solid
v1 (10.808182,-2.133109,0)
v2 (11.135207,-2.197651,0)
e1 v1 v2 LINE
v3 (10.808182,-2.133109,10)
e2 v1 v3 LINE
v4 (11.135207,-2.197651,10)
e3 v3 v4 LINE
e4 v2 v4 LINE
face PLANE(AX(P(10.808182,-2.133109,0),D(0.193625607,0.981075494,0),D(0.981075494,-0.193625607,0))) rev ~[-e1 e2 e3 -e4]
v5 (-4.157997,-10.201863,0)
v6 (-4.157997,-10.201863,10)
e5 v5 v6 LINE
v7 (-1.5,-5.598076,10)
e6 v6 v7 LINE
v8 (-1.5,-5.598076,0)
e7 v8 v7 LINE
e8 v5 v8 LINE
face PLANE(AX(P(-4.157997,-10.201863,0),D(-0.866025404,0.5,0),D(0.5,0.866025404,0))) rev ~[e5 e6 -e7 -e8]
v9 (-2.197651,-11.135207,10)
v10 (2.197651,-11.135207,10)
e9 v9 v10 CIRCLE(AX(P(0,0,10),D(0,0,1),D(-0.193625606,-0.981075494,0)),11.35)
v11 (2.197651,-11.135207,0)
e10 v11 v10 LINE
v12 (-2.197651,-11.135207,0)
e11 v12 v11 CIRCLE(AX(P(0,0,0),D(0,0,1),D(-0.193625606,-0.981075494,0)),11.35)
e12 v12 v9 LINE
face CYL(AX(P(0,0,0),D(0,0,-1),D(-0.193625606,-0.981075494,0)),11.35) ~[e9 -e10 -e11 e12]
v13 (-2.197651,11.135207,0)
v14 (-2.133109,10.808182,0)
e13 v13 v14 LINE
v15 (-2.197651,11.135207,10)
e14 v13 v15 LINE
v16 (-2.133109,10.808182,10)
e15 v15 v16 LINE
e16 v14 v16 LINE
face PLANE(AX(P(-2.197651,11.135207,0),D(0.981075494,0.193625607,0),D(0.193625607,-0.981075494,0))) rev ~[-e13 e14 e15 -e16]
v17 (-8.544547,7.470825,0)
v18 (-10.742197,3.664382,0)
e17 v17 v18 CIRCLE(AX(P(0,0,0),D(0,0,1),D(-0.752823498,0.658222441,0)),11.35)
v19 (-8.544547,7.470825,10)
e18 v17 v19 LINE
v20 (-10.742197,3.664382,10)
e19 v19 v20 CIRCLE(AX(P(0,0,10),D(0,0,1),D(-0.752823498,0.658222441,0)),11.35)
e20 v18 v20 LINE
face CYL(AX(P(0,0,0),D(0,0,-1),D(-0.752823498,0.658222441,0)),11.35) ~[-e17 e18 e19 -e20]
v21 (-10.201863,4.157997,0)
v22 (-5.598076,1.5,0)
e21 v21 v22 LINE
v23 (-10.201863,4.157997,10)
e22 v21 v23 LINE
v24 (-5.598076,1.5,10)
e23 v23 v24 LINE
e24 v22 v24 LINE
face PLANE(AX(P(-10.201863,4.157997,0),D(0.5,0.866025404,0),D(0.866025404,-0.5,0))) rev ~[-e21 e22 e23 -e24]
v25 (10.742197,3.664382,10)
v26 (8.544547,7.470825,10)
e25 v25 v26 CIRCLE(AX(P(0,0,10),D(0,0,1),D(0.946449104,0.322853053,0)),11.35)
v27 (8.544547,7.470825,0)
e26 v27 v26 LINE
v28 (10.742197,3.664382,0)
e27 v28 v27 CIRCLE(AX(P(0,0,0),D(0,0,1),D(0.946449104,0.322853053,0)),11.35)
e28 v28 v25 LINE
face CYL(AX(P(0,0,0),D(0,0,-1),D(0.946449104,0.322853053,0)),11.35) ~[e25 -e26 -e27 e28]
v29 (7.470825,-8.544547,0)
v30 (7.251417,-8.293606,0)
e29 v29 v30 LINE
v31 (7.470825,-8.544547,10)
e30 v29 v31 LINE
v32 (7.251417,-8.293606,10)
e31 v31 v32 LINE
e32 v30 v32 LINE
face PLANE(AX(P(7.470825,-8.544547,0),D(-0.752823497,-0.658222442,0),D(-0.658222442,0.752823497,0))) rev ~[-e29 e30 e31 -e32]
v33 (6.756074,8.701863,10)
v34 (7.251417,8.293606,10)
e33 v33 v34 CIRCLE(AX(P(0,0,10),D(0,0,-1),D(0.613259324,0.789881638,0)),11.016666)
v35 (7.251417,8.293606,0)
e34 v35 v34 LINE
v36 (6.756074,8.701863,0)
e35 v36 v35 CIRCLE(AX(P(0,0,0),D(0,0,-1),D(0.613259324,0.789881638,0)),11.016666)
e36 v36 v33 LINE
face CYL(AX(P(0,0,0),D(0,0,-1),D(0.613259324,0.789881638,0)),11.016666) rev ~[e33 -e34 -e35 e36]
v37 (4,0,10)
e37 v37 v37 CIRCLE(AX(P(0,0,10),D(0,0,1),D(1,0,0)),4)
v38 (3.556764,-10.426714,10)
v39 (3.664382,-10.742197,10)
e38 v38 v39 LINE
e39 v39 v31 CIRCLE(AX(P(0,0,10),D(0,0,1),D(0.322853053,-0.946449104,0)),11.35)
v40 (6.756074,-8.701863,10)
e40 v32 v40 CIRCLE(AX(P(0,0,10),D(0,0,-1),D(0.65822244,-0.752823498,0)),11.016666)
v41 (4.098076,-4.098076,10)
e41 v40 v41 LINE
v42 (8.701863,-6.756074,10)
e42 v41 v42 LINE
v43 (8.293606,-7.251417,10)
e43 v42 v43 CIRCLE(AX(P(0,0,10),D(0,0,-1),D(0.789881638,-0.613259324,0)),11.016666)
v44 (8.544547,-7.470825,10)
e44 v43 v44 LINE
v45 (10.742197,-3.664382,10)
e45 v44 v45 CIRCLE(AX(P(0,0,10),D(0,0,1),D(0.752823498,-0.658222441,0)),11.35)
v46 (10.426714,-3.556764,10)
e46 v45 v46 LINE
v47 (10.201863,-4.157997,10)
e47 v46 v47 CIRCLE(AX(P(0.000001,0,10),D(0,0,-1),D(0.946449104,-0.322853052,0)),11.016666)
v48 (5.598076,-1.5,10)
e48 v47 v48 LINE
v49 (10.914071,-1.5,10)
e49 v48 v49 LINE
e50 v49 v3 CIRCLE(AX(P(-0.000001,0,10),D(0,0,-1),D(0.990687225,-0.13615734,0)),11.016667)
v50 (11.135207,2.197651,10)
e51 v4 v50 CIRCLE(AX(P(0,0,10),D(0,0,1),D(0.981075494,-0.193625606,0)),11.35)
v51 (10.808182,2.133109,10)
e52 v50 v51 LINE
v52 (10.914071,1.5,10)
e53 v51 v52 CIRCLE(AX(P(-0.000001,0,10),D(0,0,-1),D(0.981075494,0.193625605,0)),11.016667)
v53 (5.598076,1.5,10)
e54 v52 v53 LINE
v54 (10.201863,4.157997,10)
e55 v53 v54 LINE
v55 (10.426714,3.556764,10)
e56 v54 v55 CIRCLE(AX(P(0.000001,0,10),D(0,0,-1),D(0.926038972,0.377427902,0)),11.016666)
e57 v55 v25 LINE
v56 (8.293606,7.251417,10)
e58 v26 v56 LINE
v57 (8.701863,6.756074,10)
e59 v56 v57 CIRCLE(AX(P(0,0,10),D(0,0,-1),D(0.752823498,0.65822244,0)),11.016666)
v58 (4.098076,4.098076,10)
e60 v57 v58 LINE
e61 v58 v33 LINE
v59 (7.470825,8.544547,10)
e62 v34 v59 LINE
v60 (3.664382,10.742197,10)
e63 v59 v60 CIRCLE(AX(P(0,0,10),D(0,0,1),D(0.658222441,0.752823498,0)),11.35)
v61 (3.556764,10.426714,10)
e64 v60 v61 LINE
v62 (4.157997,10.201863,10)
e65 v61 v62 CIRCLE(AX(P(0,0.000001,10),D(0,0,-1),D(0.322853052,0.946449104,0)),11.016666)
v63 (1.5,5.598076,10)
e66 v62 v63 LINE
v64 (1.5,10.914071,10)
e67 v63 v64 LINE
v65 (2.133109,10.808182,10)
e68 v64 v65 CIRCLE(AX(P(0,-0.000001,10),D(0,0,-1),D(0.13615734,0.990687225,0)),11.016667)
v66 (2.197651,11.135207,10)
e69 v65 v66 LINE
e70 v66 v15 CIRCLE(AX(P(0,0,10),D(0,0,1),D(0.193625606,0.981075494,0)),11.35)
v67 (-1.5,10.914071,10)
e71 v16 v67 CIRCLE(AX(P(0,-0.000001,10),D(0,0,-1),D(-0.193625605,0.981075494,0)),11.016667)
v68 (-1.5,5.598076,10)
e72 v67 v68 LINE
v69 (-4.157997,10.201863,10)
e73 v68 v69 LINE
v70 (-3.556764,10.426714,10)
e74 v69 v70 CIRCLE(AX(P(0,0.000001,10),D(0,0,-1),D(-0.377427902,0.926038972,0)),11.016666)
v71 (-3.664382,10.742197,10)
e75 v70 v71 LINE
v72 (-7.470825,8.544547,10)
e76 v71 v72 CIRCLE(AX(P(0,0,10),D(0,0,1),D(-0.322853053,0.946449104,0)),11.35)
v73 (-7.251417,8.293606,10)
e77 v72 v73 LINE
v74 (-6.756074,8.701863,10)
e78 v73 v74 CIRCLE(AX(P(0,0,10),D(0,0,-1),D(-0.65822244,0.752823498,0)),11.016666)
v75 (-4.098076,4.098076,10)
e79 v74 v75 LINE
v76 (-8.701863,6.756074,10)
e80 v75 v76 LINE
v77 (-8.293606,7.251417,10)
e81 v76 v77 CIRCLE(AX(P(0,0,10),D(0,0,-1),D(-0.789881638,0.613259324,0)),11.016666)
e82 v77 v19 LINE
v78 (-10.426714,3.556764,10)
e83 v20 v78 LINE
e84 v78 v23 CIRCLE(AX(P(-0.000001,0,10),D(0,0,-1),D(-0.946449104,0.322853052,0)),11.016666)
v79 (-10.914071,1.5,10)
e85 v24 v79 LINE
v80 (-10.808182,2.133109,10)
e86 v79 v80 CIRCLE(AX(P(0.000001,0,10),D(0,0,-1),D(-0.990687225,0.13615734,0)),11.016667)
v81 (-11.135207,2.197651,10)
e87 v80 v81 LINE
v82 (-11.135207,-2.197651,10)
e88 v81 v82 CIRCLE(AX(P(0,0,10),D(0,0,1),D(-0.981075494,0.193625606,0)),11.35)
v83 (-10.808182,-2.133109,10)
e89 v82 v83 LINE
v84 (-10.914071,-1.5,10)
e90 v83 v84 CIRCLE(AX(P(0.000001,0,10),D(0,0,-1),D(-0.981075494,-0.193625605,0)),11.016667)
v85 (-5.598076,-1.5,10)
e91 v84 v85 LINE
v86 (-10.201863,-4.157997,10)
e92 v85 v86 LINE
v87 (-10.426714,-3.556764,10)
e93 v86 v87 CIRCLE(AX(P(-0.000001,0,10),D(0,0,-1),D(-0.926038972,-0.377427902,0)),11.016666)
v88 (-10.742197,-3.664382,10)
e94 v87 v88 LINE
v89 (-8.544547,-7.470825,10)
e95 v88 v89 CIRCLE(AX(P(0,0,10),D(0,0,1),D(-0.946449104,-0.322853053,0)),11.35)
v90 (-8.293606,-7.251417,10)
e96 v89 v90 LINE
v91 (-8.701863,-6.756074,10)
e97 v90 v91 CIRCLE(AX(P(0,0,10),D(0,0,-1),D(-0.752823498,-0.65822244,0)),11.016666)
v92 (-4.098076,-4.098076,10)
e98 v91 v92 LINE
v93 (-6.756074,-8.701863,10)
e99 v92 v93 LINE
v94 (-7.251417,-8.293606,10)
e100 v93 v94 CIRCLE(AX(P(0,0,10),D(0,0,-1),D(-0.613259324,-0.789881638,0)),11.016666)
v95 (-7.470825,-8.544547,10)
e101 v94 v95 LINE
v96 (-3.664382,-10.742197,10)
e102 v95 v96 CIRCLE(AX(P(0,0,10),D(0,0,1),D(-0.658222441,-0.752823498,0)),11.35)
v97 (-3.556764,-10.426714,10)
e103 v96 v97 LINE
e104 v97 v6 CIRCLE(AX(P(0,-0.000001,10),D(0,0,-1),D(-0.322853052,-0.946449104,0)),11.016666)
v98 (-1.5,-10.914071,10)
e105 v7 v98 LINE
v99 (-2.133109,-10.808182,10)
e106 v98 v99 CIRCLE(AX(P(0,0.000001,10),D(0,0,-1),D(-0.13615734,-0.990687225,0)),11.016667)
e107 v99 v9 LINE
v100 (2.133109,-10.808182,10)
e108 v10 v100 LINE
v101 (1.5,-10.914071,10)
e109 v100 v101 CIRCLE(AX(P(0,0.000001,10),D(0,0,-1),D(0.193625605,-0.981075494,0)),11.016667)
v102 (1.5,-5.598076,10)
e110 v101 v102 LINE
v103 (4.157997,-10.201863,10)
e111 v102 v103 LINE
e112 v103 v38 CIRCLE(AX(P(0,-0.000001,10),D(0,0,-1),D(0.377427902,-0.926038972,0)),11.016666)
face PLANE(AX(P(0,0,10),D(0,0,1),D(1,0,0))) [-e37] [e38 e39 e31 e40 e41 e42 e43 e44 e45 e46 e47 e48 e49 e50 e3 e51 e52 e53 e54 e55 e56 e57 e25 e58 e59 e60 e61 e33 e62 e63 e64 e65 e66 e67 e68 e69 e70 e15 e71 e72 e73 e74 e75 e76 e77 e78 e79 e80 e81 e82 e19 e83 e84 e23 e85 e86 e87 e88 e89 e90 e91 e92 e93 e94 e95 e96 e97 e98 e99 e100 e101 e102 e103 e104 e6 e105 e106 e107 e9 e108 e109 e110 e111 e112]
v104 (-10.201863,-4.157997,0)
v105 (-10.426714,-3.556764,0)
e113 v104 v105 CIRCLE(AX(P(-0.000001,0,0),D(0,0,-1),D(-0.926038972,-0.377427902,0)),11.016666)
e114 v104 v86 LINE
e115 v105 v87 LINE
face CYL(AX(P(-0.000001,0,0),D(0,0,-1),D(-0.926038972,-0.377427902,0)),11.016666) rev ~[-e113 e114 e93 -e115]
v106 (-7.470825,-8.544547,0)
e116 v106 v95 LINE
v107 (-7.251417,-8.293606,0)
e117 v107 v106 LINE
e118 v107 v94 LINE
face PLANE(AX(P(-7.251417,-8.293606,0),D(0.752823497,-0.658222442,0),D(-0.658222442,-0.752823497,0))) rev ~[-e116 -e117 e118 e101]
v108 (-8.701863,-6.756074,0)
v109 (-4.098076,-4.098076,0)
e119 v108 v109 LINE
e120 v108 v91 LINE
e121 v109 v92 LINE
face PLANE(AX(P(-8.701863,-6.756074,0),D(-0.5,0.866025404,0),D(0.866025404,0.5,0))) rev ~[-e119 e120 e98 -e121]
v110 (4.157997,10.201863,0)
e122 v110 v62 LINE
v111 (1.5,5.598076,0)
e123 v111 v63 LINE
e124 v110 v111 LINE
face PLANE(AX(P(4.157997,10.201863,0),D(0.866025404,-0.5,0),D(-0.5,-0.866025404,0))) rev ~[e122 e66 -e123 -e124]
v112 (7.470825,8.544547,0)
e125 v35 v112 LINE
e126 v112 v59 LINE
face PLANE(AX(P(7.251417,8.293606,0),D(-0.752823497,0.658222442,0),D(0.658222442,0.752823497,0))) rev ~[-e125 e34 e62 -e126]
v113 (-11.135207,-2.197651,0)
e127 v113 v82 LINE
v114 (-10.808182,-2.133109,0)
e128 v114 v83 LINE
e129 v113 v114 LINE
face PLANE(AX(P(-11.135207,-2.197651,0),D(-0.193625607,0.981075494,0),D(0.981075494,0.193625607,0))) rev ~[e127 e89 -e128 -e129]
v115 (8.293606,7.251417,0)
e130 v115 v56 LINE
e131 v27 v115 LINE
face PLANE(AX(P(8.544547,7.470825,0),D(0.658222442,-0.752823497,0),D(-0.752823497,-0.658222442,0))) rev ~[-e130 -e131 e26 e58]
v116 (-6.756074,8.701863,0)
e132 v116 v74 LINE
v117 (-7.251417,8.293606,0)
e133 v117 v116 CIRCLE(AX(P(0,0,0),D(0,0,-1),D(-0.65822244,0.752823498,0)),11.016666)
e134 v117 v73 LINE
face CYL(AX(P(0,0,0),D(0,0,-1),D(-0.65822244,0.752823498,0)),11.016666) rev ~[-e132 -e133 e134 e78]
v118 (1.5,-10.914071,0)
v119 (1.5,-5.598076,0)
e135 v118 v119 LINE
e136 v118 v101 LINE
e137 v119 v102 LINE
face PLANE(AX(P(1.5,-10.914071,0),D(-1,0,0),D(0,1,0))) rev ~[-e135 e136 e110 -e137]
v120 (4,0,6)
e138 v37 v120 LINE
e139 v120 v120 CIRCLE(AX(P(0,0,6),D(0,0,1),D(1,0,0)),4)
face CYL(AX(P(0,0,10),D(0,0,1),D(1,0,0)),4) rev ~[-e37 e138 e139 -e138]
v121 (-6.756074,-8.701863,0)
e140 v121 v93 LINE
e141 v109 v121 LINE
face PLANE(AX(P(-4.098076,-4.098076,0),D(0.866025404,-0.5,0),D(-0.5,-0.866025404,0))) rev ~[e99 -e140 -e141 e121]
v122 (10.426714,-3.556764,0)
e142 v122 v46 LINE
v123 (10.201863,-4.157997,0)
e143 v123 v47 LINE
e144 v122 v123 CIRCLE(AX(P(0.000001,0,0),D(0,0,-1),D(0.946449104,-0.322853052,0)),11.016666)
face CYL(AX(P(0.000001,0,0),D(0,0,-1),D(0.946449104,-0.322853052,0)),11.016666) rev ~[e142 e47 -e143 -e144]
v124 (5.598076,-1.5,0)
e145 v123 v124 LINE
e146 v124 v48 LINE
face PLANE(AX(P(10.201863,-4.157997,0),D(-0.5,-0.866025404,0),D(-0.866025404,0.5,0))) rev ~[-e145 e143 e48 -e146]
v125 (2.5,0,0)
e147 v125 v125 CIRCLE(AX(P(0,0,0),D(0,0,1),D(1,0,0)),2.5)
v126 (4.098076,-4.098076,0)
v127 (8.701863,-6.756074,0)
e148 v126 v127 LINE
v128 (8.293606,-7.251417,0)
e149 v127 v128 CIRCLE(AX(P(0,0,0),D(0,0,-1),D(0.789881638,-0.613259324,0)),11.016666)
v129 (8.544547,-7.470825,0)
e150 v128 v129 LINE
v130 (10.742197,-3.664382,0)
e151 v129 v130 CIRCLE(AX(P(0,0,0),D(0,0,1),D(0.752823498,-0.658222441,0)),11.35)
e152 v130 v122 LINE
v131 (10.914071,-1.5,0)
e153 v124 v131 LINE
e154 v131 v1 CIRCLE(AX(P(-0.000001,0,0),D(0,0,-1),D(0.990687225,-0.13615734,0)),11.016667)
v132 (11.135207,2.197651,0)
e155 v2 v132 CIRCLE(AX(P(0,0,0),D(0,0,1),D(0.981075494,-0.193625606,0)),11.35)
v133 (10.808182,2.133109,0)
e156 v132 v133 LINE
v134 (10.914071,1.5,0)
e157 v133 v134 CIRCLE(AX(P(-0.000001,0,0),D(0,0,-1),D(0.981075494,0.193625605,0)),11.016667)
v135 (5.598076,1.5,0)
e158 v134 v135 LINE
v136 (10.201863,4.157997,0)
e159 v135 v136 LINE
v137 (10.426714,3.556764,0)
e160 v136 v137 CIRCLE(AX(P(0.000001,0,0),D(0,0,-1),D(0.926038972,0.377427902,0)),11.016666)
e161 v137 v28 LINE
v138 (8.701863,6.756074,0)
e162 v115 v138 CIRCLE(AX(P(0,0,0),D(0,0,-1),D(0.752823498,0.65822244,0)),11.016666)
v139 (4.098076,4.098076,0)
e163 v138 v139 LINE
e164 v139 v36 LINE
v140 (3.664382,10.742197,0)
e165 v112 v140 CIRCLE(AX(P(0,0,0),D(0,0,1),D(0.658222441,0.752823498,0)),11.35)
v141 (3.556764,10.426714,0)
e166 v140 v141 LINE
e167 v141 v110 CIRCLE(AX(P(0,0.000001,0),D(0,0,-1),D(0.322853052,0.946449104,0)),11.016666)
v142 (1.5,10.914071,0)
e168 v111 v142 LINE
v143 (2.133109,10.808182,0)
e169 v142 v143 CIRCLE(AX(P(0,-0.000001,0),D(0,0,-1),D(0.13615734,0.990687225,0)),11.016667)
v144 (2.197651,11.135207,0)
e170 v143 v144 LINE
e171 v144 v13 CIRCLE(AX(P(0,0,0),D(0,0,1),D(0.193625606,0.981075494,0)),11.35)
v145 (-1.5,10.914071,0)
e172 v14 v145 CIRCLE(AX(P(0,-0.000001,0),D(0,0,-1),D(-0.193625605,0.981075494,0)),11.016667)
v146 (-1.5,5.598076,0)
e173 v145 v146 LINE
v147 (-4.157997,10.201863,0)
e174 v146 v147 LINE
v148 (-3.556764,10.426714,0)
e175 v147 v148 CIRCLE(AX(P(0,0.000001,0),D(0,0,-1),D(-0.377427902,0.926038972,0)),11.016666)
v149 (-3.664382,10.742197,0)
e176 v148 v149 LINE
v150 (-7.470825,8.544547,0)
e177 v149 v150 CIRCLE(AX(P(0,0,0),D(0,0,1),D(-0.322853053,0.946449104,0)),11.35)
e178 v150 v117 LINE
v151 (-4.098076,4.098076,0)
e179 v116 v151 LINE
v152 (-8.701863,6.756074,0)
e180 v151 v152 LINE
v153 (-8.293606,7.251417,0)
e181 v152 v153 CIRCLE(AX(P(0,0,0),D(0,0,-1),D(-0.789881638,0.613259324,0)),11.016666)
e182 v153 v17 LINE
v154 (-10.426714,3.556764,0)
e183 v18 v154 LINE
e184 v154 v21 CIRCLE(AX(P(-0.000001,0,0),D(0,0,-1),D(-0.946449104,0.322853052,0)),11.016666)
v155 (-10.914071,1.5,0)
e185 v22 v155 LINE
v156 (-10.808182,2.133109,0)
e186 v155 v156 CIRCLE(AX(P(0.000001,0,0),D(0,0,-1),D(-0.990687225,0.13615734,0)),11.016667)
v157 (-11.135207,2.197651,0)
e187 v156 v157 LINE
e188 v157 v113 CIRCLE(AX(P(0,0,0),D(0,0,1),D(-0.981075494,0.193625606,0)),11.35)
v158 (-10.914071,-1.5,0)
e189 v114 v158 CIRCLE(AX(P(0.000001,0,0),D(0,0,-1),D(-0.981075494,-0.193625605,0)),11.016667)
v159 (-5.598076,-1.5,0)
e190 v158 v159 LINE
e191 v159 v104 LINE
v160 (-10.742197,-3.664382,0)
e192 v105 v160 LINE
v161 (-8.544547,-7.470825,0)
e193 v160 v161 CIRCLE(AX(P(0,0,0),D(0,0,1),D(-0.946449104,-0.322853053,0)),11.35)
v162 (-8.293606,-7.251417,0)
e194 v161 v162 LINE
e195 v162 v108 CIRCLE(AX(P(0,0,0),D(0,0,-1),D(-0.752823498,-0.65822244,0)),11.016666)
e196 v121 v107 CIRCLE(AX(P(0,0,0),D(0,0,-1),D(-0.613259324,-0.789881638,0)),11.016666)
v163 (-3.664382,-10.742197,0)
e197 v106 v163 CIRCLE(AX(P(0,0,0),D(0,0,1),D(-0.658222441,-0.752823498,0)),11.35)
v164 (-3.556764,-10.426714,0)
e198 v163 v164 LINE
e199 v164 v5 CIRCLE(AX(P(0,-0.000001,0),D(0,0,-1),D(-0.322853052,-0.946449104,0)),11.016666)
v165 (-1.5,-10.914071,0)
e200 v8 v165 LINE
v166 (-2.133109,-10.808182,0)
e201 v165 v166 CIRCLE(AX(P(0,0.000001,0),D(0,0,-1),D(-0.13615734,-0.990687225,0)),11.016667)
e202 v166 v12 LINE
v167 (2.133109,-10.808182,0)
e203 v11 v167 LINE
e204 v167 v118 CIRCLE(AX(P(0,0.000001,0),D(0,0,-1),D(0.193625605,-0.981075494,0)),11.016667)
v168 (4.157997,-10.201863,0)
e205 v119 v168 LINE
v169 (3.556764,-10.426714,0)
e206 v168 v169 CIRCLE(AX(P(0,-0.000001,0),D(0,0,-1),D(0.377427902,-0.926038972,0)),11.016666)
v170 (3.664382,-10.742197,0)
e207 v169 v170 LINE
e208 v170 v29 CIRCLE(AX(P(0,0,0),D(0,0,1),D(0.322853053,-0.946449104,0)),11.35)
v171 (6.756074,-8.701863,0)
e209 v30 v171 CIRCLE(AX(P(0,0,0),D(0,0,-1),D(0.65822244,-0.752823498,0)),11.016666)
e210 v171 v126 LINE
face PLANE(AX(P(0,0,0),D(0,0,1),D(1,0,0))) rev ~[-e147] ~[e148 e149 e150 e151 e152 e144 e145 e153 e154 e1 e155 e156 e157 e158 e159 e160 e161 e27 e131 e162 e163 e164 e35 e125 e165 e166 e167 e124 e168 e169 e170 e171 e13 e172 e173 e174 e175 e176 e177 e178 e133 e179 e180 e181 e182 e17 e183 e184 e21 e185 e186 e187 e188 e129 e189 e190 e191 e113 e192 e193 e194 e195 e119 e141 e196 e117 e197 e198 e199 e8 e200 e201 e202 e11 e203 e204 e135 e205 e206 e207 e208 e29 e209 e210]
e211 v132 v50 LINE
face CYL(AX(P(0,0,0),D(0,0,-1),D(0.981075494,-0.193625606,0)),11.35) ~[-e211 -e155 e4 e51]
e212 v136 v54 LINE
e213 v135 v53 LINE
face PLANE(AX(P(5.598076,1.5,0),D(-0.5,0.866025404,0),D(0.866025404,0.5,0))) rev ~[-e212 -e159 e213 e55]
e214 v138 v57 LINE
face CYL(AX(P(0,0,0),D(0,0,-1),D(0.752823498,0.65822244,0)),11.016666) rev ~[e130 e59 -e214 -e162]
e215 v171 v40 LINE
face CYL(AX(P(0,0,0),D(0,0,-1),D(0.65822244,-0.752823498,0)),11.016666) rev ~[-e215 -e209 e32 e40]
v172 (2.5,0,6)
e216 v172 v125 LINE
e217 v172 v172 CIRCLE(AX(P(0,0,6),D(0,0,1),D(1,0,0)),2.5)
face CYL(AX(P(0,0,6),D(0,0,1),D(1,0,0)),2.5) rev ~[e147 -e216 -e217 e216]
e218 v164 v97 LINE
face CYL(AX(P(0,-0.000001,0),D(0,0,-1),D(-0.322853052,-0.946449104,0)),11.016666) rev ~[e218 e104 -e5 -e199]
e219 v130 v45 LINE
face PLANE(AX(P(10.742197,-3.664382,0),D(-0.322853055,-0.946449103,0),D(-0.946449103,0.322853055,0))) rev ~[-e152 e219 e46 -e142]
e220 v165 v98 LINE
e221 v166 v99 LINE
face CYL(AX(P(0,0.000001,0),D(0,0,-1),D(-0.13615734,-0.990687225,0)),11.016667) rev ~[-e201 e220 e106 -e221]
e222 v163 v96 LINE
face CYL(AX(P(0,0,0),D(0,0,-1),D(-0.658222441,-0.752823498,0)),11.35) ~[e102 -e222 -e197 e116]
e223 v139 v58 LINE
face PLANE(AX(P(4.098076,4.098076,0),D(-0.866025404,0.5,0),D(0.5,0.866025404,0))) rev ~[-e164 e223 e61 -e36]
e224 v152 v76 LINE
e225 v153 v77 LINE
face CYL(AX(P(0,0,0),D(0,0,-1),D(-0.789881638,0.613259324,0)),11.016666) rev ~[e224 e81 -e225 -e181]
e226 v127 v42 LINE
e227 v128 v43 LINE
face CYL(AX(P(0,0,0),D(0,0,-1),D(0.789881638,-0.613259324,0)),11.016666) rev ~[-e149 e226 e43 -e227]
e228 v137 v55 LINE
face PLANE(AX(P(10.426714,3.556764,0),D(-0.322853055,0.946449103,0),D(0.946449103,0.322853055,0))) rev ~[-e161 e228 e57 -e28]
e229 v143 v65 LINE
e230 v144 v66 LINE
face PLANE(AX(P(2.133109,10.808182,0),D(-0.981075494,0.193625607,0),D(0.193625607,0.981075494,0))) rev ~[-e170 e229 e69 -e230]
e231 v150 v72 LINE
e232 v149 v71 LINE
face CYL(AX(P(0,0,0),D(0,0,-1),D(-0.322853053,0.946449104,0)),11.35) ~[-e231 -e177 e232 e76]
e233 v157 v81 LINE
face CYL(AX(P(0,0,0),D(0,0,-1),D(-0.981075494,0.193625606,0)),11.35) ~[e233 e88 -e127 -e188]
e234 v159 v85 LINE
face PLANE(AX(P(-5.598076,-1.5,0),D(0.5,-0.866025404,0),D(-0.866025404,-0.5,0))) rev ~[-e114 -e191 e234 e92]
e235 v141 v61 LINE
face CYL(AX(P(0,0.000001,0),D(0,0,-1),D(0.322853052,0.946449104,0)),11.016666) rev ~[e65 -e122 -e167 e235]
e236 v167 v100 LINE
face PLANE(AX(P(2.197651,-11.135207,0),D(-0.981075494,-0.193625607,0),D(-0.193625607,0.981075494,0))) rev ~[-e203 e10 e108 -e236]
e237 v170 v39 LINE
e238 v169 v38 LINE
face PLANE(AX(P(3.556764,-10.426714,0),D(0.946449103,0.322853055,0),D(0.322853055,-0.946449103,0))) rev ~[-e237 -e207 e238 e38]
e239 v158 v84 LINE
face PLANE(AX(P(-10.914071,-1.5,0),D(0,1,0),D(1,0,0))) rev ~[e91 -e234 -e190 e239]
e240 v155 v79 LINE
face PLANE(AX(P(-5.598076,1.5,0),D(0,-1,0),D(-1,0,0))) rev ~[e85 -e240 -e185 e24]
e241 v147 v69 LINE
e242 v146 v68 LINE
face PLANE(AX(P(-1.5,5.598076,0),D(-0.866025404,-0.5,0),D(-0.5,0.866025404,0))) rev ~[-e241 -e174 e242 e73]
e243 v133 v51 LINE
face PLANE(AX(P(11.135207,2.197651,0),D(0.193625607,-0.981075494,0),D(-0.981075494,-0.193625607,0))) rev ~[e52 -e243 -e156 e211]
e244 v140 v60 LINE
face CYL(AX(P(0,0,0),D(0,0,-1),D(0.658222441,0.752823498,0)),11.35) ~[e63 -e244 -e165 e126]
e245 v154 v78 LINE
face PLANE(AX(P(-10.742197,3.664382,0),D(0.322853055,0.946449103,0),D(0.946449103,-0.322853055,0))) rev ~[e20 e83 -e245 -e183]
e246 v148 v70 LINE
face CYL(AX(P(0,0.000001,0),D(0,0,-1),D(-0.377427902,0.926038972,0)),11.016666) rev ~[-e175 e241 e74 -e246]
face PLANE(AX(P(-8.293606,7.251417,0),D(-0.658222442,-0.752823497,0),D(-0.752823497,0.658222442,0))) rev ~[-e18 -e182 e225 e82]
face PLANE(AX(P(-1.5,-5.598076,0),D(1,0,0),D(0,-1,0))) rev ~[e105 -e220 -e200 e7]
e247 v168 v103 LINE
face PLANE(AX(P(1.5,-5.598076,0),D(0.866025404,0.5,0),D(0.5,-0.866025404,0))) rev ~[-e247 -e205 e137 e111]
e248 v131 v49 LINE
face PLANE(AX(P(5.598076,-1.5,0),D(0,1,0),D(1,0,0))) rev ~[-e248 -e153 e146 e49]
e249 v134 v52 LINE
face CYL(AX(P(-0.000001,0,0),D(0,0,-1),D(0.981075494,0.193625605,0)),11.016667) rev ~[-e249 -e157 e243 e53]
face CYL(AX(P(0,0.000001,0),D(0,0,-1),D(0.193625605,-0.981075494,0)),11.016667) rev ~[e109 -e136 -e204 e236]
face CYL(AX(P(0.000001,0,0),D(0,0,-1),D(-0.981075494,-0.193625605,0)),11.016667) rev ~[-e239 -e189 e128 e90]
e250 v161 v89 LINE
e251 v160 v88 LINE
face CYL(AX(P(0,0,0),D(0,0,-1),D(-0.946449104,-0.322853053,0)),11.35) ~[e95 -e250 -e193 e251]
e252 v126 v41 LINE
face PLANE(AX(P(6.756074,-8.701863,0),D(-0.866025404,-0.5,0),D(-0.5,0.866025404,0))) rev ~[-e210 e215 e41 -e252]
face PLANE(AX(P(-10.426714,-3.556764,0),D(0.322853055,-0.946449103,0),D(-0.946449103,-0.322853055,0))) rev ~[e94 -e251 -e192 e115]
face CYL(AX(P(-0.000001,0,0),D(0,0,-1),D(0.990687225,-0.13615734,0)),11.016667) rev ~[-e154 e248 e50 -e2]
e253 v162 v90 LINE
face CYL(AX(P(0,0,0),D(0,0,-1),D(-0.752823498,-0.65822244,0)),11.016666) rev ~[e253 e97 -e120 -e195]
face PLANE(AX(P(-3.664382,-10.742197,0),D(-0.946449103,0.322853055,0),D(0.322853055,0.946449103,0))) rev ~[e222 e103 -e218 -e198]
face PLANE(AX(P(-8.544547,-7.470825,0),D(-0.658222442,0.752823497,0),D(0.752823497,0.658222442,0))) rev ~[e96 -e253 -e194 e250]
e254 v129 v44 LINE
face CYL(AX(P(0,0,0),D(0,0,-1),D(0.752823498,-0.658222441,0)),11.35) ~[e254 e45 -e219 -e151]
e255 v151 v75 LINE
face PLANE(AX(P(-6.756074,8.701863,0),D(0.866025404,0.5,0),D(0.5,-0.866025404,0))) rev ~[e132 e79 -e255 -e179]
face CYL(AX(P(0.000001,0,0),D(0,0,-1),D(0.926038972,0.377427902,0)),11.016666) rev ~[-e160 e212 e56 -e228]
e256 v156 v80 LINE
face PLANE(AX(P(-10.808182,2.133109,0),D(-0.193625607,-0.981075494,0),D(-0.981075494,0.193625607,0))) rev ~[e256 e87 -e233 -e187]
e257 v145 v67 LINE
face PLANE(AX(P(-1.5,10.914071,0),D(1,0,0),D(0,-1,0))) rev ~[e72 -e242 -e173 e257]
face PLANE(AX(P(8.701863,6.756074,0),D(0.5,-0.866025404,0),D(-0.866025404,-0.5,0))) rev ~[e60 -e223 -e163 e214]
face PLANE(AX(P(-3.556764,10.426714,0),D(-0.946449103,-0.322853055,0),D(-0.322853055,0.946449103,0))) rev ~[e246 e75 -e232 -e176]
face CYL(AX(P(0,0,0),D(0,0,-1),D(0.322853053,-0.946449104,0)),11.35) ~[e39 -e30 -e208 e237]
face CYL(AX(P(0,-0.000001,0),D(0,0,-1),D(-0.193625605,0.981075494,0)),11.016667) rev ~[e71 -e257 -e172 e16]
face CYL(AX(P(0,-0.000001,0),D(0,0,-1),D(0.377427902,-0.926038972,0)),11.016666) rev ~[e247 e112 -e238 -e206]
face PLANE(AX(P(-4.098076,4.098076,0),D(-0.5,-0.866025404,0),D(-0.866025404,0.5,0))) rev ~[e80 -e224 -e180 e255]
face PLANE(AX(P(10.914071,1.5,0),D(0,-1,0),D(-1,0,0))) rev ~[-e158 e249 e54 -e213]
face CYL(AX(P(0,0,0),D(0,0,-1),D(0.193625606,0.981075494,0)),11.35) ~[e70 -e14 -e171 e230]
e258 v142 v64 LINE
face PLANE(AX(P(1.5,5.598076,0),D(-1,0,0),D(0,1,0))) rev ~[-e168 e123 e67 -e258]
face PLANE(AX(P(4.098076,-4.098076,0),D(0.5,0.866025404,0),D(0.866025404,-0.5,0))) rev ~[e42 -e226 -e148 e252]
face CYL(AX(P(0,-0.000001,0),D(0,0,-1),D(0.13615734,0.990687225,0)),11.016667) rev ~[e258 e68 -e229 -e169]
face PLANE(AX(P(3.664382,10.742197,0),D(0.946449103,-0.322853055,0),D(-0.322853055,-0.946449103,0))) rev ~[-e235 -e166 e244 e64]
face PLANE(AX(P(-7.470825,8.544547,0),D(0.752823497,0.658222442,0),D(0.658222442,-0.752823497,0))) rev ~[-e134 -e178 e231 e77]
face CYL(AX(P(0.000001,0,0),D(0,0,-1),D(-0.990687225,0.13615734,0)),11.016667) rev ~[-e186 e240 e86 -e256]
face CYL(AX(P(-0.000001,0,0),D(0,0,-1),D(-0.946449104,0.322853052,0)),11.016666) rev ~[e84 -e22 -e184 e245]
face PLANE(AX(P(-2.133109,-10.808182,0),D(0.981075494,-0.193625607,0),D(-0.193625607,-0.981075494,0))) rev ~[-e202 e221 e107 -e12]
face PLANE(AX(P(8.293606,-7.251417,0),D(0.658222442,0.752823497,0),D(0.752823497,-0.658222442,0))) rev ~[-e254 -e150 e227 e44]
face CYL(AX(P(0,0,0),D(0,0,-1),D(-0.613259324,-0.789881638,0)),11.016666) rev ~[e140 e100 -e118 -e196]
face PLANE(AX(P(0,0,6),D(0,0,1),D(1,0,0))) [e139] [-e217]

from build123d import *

# Parameters (mm, degrees)
BOSS_EXTRUDE1_DEPTH = 10
SKETCH3_R           = 4
CUT_EXTRUDE1_DEPTH  = 4
SKETCH4_R           = 2.5
CUT_EXTRUDE2_DEPTH  = 10


with BuildPart() as part:
    # Sketch2 → Boss-Extrude1 (new body)
    with BuildSketch(Plane.XY):
        with BuildLine():
            Line((2.133108761, 10.808181691), (2.19765063, 11.135206855))
            ThreePointArc((2.19765063, 11.135206855), (0, 11.35), (-2.19765063, 11.135206855))
            Line((-2.19765063, 11.135206855), (-2.133108761, 10.808181691))
            ThreePointArc((-2.133108761, 10.808181691), (-1.817325769, 10.865738424), (-1.5, 10.914070939))
            Line((-1.5, 10.914070939), (-1.5, 5.598076211))
            Line((-1.5, 5.598076211), (-4.157997364, 10.201862691))
            ThreePointArc((-4.157997364, 10.201862691), (-3.859018929, 10.318668391), (-3.556764469, 10.426714294))
            Line((-3.556764469, 10.426714294), (-3.664382154, 10.742197328))
            ThreePointArc((-3.664382154, 10.742197328), (-5.675, 9.829388333), (-7.470824702, 8.544546698))
            Line((-7.470824702, 8.544546698), (-7.251417222, 8.293605533))
            ThreePointArc((-7.251417222, 8.293605533), (-7.006719495, 8.501342622), (-6.756073575, 8.701862691))
            Line((-6.756073575, 8.701862691), (-4.098076211, 4.098076211))
            Line((-4.098076211, 4.098076211), (-8.701862691, 6.756073575))
            ThreePointArc((-8.701862691, 6.756073575), (-8.501342622, 7.006719495), (-8.293605533, 7.251417222))
            Line((-8.293605533, 7.251417222), (-8.544546698, 7.470824702))
            ThreePointArc((-8.544546698, 7.470824702), (-9.829388333, 5.675), (-10.742197328, 3.664382154))
            Line((-10.742197328, 3.664382154), (-10.426714294, 3.556764469))
            ThreePointArc((-10.426714294, 3.556764469), (-10.318668391, 3.859018929), (-10.201862691, 4.157997364))
            Line((-10.201862691, 4.157997364), (-5.598076211, 1.5))
            Line((-5.598076211, 1.5), (-10.914070939, 1.5))
            ThreePointArc((-10.914070939, 1.5), (-10.865738424, 1.817325769), (-10.808181691, 2.133108761))
            Line((-10.808181691, 2.133108761), (-11.135206855, 2.19765063))
            ThreePointArc((-11.135206855, 2.19765063), (-11.35, 0), (-11.135206855, -2.19765063))
            Line((-11.135206855, -2.19765063), (-10.808181691, -2.133108761))
            ThreePointArc((-10.808181691, -2.133108761), (-10.865738424, -1.817325769), (-10.914070939, -1.5))
            Line((-10.914070939, -1.5), (-5.598076211, -1.5))
            Line((-5.598076211, -1.5), (-10.201862691, -4.157997364))
            ThreePointArc((-10.201862691, -4.157997364), (-10.318668391, -3.859018929), (-10.426714294, -3.556764469))
            Line((-10.426714294, -3.556764469), (-10.742197328, -3.664382154))
            ThreePointArc((-10.742197328, -3.664382154), (-9.829388333, -5.675), (-8.544546698, -7.470824702))
            Line((-8.544546698, -7.470824702), (-8.293605533, -7.251417222))
            ThreePointArc((-8.293605533, -7.251417222), (-8.501342622, -7.006719495), (-8.701862691, -6.756073575))
            Line((-8.701862691, -6.756073575), (-4.098076211, -4.098076211))
            Line((-4.098076211, -4.098076211), (-6.756073575, -8.701862691))
            ThreePointArc((-6.756073575, -8.701862691), (-7.006719495, -8.501342622), (-7.251417222, -8.293605533))
            Line((-7.251417222, -8.293605533), (-7.470824702, -8.544546698))
            ThreePointArc((-7.470824702, -8.544546698), (-5.675, -9.829388333), (-3.664382154, -10.742197328))
            Line((-3.664382154, -10.742197328), (-3.556764469, -10.426714294))
            ThreePointArc((-3.556764469, -10.426714294), (-3.859018929, -10.318668391), (-4.157997364, -10.201862691))
            Line((-4.157997364, -10.201862691), (-1.5, -5.598076211))
            Line((-1.5, -5.598076211), (-1.5, -10.914070939))
            ThreePointArc((-1.5, -10.914070939), (-1.817325769, -10.865738424), (-2.133108761, -10.808181691))
            Line((-2.133108761, -10.808181691), (-2.19765063, -11.135206855))
            ThreePointArc((-2.19765063, -11.135206855), (0, -11.35), (2.19765063, -11.135206855))
            Line((2.19765063, -11.135206855), (2.133108761, -10.808181691))
            ThreePointArc((2.133108761, -10.808181691), (1.817325769, -10.865738424), (1.5, -10.914070939))
            Line((1.5, -10.914070939), (1.5, -5.598076211))
            Line((1.5, -5.598076211), (4.157997364, -10.201862691))
            ThreePointArc((4.157997364, -10.201862691), (3.859018929, -10.318668391), (3.556764469, -10.426714294))
            Line((3.556764469, -10.426714294), (3.664382154, -10.742197328))
            ThreePointArc((3.664382154, -10.742197328), (5.675, -9.829388333), (7.470824702, -8.544546698))
            Line((7.470824702, -8.544546698), (7.251417222, -8.293605533))
            ThreePointArc((7.251417222, -8.293605533), (7.006719495, -8.501342622), (6.756073575, -8.701862691))
            Line((6.756073575, -8.701862691), (4.098076211, -4.098076211))
            Line((4.098076211, -4.098076211), (8.701862691, -6.756073575))
            ThreePointArc((8.701862691, -6.756073575), (8.501342622, -7.006719495), (8.293605533, -7.251417222))
            Line((8.293605533, -7.251417222), (8.544546698, -7.470824702))
            ThreePointArc((8.544546698, -7.470824702), (9.829388333, -5.675), (10.742197328, -3.664382154))
            Line((10.742197328, -3.664382154), (10.426714294, -3.556764469))
            ThreePointArc((10.426714294, -3.556764469), (10.318668391, -3.859018929), (10.201862691, -4.157997364))
            Line((10.201862691, -4.157997364), (5.598076211, -1.5))
            Line((5.598076211, -1.5), (10.914070939, -1.5))
            ThreePointArc((10.914070939, -1.5), (10.865738424, -1.817325769), (10.808181691, -2.133108761))
            Line((10.808181691, -2.133108761), (11.135206855, -2.19765063))
            ThreePointArc((11.135206855, -2.19765063), (11.35, 0), (11.135206855, 2.19765063))
            Line((11.135206855, 2.19765063), (10.808181691, 2.133108761))
            ThreePointArc((10.808181691, 2.133108761), (10.865738424, 1.817325769), (10.914070939, 1.5))
            Line((10.914070939, 1.5), (5.598076211, 1.5))
            Line((5.598076211, 1.5), (10.201862691, 4.157997364))
            ThreePointArc((10.201862691, 4.157997364), (10.318668391, 3.859018929), (10.426714294, 3.556764469))
            Line((10.426714294, 3.556764469), (10.742197328, 3.664382154))
            ThreePointArc((10.742197328, 3.664382154), (9.829388333, 5.675), (8.544546698, 7.470824702))
            Line((8.544546698, 7.470824702), (8.293605533, 7.251417222))
            ThreePointArc((8.293605533, 7.251417222), (8.501342622, 7.006719495), (8.701862691, 6.756073575))
            Line((8.701862691, 6.756073575), (4.098076211, 4.098076211))
            Line((4.098076211, 4.098076211), (6.756073575, 8.701862691))
            ThreePointArc((6.756073575, 8.701862691), (7.006719495, 8.501342622), (7.251417222, 8.293605533))
            Line((7.251417222, 8.293605533), (7.470824702, 8.544546698))
            ThreePointArc((7.470824702, 8.544546698), (5.675, 9.829388333), (3.664382154, 10.742197328))
            Line((3.664382154, 10.742197328), (3.556764469, 10.426714294))
            ThreePointArc((3.556764469, 10.426714294), (3.859018929, 10.318668391), (4.157997364, 10.201862691))
            Line((4.157997364, 10.201862691), (1.5, 5.598076211))
            Line((1.5, 5.598076211), (1.5, 10.914070939))
            ThreePointArc((1.5, 10.914070939), (1.817325769, 10.865738424), (2.133108761, 10.808181691))
        make_face()
    extrude(amount=BOSS_EXTRUDE1_DEPTH)

    # Sketch3 → Cut-Extrude1 (cut)
    with BuildSketch(Plane.XY.offset(10)):
        Circle(SKETCH3_R)
    extrude(amount=-CUT_EXTRUDE1_DEPTH, mode=Mode.SUBTRACT)

    # Sketch4 → Cut-Extrude2 (cut)
    with BuildSketch(Plane.XY.offset(6)):
        Circle(SKETCH4_R)
    extrude(amount=-CUT_EXTRUDE2_DEPTH, mode=Mode.SUBTRACT)


solid = part.part
